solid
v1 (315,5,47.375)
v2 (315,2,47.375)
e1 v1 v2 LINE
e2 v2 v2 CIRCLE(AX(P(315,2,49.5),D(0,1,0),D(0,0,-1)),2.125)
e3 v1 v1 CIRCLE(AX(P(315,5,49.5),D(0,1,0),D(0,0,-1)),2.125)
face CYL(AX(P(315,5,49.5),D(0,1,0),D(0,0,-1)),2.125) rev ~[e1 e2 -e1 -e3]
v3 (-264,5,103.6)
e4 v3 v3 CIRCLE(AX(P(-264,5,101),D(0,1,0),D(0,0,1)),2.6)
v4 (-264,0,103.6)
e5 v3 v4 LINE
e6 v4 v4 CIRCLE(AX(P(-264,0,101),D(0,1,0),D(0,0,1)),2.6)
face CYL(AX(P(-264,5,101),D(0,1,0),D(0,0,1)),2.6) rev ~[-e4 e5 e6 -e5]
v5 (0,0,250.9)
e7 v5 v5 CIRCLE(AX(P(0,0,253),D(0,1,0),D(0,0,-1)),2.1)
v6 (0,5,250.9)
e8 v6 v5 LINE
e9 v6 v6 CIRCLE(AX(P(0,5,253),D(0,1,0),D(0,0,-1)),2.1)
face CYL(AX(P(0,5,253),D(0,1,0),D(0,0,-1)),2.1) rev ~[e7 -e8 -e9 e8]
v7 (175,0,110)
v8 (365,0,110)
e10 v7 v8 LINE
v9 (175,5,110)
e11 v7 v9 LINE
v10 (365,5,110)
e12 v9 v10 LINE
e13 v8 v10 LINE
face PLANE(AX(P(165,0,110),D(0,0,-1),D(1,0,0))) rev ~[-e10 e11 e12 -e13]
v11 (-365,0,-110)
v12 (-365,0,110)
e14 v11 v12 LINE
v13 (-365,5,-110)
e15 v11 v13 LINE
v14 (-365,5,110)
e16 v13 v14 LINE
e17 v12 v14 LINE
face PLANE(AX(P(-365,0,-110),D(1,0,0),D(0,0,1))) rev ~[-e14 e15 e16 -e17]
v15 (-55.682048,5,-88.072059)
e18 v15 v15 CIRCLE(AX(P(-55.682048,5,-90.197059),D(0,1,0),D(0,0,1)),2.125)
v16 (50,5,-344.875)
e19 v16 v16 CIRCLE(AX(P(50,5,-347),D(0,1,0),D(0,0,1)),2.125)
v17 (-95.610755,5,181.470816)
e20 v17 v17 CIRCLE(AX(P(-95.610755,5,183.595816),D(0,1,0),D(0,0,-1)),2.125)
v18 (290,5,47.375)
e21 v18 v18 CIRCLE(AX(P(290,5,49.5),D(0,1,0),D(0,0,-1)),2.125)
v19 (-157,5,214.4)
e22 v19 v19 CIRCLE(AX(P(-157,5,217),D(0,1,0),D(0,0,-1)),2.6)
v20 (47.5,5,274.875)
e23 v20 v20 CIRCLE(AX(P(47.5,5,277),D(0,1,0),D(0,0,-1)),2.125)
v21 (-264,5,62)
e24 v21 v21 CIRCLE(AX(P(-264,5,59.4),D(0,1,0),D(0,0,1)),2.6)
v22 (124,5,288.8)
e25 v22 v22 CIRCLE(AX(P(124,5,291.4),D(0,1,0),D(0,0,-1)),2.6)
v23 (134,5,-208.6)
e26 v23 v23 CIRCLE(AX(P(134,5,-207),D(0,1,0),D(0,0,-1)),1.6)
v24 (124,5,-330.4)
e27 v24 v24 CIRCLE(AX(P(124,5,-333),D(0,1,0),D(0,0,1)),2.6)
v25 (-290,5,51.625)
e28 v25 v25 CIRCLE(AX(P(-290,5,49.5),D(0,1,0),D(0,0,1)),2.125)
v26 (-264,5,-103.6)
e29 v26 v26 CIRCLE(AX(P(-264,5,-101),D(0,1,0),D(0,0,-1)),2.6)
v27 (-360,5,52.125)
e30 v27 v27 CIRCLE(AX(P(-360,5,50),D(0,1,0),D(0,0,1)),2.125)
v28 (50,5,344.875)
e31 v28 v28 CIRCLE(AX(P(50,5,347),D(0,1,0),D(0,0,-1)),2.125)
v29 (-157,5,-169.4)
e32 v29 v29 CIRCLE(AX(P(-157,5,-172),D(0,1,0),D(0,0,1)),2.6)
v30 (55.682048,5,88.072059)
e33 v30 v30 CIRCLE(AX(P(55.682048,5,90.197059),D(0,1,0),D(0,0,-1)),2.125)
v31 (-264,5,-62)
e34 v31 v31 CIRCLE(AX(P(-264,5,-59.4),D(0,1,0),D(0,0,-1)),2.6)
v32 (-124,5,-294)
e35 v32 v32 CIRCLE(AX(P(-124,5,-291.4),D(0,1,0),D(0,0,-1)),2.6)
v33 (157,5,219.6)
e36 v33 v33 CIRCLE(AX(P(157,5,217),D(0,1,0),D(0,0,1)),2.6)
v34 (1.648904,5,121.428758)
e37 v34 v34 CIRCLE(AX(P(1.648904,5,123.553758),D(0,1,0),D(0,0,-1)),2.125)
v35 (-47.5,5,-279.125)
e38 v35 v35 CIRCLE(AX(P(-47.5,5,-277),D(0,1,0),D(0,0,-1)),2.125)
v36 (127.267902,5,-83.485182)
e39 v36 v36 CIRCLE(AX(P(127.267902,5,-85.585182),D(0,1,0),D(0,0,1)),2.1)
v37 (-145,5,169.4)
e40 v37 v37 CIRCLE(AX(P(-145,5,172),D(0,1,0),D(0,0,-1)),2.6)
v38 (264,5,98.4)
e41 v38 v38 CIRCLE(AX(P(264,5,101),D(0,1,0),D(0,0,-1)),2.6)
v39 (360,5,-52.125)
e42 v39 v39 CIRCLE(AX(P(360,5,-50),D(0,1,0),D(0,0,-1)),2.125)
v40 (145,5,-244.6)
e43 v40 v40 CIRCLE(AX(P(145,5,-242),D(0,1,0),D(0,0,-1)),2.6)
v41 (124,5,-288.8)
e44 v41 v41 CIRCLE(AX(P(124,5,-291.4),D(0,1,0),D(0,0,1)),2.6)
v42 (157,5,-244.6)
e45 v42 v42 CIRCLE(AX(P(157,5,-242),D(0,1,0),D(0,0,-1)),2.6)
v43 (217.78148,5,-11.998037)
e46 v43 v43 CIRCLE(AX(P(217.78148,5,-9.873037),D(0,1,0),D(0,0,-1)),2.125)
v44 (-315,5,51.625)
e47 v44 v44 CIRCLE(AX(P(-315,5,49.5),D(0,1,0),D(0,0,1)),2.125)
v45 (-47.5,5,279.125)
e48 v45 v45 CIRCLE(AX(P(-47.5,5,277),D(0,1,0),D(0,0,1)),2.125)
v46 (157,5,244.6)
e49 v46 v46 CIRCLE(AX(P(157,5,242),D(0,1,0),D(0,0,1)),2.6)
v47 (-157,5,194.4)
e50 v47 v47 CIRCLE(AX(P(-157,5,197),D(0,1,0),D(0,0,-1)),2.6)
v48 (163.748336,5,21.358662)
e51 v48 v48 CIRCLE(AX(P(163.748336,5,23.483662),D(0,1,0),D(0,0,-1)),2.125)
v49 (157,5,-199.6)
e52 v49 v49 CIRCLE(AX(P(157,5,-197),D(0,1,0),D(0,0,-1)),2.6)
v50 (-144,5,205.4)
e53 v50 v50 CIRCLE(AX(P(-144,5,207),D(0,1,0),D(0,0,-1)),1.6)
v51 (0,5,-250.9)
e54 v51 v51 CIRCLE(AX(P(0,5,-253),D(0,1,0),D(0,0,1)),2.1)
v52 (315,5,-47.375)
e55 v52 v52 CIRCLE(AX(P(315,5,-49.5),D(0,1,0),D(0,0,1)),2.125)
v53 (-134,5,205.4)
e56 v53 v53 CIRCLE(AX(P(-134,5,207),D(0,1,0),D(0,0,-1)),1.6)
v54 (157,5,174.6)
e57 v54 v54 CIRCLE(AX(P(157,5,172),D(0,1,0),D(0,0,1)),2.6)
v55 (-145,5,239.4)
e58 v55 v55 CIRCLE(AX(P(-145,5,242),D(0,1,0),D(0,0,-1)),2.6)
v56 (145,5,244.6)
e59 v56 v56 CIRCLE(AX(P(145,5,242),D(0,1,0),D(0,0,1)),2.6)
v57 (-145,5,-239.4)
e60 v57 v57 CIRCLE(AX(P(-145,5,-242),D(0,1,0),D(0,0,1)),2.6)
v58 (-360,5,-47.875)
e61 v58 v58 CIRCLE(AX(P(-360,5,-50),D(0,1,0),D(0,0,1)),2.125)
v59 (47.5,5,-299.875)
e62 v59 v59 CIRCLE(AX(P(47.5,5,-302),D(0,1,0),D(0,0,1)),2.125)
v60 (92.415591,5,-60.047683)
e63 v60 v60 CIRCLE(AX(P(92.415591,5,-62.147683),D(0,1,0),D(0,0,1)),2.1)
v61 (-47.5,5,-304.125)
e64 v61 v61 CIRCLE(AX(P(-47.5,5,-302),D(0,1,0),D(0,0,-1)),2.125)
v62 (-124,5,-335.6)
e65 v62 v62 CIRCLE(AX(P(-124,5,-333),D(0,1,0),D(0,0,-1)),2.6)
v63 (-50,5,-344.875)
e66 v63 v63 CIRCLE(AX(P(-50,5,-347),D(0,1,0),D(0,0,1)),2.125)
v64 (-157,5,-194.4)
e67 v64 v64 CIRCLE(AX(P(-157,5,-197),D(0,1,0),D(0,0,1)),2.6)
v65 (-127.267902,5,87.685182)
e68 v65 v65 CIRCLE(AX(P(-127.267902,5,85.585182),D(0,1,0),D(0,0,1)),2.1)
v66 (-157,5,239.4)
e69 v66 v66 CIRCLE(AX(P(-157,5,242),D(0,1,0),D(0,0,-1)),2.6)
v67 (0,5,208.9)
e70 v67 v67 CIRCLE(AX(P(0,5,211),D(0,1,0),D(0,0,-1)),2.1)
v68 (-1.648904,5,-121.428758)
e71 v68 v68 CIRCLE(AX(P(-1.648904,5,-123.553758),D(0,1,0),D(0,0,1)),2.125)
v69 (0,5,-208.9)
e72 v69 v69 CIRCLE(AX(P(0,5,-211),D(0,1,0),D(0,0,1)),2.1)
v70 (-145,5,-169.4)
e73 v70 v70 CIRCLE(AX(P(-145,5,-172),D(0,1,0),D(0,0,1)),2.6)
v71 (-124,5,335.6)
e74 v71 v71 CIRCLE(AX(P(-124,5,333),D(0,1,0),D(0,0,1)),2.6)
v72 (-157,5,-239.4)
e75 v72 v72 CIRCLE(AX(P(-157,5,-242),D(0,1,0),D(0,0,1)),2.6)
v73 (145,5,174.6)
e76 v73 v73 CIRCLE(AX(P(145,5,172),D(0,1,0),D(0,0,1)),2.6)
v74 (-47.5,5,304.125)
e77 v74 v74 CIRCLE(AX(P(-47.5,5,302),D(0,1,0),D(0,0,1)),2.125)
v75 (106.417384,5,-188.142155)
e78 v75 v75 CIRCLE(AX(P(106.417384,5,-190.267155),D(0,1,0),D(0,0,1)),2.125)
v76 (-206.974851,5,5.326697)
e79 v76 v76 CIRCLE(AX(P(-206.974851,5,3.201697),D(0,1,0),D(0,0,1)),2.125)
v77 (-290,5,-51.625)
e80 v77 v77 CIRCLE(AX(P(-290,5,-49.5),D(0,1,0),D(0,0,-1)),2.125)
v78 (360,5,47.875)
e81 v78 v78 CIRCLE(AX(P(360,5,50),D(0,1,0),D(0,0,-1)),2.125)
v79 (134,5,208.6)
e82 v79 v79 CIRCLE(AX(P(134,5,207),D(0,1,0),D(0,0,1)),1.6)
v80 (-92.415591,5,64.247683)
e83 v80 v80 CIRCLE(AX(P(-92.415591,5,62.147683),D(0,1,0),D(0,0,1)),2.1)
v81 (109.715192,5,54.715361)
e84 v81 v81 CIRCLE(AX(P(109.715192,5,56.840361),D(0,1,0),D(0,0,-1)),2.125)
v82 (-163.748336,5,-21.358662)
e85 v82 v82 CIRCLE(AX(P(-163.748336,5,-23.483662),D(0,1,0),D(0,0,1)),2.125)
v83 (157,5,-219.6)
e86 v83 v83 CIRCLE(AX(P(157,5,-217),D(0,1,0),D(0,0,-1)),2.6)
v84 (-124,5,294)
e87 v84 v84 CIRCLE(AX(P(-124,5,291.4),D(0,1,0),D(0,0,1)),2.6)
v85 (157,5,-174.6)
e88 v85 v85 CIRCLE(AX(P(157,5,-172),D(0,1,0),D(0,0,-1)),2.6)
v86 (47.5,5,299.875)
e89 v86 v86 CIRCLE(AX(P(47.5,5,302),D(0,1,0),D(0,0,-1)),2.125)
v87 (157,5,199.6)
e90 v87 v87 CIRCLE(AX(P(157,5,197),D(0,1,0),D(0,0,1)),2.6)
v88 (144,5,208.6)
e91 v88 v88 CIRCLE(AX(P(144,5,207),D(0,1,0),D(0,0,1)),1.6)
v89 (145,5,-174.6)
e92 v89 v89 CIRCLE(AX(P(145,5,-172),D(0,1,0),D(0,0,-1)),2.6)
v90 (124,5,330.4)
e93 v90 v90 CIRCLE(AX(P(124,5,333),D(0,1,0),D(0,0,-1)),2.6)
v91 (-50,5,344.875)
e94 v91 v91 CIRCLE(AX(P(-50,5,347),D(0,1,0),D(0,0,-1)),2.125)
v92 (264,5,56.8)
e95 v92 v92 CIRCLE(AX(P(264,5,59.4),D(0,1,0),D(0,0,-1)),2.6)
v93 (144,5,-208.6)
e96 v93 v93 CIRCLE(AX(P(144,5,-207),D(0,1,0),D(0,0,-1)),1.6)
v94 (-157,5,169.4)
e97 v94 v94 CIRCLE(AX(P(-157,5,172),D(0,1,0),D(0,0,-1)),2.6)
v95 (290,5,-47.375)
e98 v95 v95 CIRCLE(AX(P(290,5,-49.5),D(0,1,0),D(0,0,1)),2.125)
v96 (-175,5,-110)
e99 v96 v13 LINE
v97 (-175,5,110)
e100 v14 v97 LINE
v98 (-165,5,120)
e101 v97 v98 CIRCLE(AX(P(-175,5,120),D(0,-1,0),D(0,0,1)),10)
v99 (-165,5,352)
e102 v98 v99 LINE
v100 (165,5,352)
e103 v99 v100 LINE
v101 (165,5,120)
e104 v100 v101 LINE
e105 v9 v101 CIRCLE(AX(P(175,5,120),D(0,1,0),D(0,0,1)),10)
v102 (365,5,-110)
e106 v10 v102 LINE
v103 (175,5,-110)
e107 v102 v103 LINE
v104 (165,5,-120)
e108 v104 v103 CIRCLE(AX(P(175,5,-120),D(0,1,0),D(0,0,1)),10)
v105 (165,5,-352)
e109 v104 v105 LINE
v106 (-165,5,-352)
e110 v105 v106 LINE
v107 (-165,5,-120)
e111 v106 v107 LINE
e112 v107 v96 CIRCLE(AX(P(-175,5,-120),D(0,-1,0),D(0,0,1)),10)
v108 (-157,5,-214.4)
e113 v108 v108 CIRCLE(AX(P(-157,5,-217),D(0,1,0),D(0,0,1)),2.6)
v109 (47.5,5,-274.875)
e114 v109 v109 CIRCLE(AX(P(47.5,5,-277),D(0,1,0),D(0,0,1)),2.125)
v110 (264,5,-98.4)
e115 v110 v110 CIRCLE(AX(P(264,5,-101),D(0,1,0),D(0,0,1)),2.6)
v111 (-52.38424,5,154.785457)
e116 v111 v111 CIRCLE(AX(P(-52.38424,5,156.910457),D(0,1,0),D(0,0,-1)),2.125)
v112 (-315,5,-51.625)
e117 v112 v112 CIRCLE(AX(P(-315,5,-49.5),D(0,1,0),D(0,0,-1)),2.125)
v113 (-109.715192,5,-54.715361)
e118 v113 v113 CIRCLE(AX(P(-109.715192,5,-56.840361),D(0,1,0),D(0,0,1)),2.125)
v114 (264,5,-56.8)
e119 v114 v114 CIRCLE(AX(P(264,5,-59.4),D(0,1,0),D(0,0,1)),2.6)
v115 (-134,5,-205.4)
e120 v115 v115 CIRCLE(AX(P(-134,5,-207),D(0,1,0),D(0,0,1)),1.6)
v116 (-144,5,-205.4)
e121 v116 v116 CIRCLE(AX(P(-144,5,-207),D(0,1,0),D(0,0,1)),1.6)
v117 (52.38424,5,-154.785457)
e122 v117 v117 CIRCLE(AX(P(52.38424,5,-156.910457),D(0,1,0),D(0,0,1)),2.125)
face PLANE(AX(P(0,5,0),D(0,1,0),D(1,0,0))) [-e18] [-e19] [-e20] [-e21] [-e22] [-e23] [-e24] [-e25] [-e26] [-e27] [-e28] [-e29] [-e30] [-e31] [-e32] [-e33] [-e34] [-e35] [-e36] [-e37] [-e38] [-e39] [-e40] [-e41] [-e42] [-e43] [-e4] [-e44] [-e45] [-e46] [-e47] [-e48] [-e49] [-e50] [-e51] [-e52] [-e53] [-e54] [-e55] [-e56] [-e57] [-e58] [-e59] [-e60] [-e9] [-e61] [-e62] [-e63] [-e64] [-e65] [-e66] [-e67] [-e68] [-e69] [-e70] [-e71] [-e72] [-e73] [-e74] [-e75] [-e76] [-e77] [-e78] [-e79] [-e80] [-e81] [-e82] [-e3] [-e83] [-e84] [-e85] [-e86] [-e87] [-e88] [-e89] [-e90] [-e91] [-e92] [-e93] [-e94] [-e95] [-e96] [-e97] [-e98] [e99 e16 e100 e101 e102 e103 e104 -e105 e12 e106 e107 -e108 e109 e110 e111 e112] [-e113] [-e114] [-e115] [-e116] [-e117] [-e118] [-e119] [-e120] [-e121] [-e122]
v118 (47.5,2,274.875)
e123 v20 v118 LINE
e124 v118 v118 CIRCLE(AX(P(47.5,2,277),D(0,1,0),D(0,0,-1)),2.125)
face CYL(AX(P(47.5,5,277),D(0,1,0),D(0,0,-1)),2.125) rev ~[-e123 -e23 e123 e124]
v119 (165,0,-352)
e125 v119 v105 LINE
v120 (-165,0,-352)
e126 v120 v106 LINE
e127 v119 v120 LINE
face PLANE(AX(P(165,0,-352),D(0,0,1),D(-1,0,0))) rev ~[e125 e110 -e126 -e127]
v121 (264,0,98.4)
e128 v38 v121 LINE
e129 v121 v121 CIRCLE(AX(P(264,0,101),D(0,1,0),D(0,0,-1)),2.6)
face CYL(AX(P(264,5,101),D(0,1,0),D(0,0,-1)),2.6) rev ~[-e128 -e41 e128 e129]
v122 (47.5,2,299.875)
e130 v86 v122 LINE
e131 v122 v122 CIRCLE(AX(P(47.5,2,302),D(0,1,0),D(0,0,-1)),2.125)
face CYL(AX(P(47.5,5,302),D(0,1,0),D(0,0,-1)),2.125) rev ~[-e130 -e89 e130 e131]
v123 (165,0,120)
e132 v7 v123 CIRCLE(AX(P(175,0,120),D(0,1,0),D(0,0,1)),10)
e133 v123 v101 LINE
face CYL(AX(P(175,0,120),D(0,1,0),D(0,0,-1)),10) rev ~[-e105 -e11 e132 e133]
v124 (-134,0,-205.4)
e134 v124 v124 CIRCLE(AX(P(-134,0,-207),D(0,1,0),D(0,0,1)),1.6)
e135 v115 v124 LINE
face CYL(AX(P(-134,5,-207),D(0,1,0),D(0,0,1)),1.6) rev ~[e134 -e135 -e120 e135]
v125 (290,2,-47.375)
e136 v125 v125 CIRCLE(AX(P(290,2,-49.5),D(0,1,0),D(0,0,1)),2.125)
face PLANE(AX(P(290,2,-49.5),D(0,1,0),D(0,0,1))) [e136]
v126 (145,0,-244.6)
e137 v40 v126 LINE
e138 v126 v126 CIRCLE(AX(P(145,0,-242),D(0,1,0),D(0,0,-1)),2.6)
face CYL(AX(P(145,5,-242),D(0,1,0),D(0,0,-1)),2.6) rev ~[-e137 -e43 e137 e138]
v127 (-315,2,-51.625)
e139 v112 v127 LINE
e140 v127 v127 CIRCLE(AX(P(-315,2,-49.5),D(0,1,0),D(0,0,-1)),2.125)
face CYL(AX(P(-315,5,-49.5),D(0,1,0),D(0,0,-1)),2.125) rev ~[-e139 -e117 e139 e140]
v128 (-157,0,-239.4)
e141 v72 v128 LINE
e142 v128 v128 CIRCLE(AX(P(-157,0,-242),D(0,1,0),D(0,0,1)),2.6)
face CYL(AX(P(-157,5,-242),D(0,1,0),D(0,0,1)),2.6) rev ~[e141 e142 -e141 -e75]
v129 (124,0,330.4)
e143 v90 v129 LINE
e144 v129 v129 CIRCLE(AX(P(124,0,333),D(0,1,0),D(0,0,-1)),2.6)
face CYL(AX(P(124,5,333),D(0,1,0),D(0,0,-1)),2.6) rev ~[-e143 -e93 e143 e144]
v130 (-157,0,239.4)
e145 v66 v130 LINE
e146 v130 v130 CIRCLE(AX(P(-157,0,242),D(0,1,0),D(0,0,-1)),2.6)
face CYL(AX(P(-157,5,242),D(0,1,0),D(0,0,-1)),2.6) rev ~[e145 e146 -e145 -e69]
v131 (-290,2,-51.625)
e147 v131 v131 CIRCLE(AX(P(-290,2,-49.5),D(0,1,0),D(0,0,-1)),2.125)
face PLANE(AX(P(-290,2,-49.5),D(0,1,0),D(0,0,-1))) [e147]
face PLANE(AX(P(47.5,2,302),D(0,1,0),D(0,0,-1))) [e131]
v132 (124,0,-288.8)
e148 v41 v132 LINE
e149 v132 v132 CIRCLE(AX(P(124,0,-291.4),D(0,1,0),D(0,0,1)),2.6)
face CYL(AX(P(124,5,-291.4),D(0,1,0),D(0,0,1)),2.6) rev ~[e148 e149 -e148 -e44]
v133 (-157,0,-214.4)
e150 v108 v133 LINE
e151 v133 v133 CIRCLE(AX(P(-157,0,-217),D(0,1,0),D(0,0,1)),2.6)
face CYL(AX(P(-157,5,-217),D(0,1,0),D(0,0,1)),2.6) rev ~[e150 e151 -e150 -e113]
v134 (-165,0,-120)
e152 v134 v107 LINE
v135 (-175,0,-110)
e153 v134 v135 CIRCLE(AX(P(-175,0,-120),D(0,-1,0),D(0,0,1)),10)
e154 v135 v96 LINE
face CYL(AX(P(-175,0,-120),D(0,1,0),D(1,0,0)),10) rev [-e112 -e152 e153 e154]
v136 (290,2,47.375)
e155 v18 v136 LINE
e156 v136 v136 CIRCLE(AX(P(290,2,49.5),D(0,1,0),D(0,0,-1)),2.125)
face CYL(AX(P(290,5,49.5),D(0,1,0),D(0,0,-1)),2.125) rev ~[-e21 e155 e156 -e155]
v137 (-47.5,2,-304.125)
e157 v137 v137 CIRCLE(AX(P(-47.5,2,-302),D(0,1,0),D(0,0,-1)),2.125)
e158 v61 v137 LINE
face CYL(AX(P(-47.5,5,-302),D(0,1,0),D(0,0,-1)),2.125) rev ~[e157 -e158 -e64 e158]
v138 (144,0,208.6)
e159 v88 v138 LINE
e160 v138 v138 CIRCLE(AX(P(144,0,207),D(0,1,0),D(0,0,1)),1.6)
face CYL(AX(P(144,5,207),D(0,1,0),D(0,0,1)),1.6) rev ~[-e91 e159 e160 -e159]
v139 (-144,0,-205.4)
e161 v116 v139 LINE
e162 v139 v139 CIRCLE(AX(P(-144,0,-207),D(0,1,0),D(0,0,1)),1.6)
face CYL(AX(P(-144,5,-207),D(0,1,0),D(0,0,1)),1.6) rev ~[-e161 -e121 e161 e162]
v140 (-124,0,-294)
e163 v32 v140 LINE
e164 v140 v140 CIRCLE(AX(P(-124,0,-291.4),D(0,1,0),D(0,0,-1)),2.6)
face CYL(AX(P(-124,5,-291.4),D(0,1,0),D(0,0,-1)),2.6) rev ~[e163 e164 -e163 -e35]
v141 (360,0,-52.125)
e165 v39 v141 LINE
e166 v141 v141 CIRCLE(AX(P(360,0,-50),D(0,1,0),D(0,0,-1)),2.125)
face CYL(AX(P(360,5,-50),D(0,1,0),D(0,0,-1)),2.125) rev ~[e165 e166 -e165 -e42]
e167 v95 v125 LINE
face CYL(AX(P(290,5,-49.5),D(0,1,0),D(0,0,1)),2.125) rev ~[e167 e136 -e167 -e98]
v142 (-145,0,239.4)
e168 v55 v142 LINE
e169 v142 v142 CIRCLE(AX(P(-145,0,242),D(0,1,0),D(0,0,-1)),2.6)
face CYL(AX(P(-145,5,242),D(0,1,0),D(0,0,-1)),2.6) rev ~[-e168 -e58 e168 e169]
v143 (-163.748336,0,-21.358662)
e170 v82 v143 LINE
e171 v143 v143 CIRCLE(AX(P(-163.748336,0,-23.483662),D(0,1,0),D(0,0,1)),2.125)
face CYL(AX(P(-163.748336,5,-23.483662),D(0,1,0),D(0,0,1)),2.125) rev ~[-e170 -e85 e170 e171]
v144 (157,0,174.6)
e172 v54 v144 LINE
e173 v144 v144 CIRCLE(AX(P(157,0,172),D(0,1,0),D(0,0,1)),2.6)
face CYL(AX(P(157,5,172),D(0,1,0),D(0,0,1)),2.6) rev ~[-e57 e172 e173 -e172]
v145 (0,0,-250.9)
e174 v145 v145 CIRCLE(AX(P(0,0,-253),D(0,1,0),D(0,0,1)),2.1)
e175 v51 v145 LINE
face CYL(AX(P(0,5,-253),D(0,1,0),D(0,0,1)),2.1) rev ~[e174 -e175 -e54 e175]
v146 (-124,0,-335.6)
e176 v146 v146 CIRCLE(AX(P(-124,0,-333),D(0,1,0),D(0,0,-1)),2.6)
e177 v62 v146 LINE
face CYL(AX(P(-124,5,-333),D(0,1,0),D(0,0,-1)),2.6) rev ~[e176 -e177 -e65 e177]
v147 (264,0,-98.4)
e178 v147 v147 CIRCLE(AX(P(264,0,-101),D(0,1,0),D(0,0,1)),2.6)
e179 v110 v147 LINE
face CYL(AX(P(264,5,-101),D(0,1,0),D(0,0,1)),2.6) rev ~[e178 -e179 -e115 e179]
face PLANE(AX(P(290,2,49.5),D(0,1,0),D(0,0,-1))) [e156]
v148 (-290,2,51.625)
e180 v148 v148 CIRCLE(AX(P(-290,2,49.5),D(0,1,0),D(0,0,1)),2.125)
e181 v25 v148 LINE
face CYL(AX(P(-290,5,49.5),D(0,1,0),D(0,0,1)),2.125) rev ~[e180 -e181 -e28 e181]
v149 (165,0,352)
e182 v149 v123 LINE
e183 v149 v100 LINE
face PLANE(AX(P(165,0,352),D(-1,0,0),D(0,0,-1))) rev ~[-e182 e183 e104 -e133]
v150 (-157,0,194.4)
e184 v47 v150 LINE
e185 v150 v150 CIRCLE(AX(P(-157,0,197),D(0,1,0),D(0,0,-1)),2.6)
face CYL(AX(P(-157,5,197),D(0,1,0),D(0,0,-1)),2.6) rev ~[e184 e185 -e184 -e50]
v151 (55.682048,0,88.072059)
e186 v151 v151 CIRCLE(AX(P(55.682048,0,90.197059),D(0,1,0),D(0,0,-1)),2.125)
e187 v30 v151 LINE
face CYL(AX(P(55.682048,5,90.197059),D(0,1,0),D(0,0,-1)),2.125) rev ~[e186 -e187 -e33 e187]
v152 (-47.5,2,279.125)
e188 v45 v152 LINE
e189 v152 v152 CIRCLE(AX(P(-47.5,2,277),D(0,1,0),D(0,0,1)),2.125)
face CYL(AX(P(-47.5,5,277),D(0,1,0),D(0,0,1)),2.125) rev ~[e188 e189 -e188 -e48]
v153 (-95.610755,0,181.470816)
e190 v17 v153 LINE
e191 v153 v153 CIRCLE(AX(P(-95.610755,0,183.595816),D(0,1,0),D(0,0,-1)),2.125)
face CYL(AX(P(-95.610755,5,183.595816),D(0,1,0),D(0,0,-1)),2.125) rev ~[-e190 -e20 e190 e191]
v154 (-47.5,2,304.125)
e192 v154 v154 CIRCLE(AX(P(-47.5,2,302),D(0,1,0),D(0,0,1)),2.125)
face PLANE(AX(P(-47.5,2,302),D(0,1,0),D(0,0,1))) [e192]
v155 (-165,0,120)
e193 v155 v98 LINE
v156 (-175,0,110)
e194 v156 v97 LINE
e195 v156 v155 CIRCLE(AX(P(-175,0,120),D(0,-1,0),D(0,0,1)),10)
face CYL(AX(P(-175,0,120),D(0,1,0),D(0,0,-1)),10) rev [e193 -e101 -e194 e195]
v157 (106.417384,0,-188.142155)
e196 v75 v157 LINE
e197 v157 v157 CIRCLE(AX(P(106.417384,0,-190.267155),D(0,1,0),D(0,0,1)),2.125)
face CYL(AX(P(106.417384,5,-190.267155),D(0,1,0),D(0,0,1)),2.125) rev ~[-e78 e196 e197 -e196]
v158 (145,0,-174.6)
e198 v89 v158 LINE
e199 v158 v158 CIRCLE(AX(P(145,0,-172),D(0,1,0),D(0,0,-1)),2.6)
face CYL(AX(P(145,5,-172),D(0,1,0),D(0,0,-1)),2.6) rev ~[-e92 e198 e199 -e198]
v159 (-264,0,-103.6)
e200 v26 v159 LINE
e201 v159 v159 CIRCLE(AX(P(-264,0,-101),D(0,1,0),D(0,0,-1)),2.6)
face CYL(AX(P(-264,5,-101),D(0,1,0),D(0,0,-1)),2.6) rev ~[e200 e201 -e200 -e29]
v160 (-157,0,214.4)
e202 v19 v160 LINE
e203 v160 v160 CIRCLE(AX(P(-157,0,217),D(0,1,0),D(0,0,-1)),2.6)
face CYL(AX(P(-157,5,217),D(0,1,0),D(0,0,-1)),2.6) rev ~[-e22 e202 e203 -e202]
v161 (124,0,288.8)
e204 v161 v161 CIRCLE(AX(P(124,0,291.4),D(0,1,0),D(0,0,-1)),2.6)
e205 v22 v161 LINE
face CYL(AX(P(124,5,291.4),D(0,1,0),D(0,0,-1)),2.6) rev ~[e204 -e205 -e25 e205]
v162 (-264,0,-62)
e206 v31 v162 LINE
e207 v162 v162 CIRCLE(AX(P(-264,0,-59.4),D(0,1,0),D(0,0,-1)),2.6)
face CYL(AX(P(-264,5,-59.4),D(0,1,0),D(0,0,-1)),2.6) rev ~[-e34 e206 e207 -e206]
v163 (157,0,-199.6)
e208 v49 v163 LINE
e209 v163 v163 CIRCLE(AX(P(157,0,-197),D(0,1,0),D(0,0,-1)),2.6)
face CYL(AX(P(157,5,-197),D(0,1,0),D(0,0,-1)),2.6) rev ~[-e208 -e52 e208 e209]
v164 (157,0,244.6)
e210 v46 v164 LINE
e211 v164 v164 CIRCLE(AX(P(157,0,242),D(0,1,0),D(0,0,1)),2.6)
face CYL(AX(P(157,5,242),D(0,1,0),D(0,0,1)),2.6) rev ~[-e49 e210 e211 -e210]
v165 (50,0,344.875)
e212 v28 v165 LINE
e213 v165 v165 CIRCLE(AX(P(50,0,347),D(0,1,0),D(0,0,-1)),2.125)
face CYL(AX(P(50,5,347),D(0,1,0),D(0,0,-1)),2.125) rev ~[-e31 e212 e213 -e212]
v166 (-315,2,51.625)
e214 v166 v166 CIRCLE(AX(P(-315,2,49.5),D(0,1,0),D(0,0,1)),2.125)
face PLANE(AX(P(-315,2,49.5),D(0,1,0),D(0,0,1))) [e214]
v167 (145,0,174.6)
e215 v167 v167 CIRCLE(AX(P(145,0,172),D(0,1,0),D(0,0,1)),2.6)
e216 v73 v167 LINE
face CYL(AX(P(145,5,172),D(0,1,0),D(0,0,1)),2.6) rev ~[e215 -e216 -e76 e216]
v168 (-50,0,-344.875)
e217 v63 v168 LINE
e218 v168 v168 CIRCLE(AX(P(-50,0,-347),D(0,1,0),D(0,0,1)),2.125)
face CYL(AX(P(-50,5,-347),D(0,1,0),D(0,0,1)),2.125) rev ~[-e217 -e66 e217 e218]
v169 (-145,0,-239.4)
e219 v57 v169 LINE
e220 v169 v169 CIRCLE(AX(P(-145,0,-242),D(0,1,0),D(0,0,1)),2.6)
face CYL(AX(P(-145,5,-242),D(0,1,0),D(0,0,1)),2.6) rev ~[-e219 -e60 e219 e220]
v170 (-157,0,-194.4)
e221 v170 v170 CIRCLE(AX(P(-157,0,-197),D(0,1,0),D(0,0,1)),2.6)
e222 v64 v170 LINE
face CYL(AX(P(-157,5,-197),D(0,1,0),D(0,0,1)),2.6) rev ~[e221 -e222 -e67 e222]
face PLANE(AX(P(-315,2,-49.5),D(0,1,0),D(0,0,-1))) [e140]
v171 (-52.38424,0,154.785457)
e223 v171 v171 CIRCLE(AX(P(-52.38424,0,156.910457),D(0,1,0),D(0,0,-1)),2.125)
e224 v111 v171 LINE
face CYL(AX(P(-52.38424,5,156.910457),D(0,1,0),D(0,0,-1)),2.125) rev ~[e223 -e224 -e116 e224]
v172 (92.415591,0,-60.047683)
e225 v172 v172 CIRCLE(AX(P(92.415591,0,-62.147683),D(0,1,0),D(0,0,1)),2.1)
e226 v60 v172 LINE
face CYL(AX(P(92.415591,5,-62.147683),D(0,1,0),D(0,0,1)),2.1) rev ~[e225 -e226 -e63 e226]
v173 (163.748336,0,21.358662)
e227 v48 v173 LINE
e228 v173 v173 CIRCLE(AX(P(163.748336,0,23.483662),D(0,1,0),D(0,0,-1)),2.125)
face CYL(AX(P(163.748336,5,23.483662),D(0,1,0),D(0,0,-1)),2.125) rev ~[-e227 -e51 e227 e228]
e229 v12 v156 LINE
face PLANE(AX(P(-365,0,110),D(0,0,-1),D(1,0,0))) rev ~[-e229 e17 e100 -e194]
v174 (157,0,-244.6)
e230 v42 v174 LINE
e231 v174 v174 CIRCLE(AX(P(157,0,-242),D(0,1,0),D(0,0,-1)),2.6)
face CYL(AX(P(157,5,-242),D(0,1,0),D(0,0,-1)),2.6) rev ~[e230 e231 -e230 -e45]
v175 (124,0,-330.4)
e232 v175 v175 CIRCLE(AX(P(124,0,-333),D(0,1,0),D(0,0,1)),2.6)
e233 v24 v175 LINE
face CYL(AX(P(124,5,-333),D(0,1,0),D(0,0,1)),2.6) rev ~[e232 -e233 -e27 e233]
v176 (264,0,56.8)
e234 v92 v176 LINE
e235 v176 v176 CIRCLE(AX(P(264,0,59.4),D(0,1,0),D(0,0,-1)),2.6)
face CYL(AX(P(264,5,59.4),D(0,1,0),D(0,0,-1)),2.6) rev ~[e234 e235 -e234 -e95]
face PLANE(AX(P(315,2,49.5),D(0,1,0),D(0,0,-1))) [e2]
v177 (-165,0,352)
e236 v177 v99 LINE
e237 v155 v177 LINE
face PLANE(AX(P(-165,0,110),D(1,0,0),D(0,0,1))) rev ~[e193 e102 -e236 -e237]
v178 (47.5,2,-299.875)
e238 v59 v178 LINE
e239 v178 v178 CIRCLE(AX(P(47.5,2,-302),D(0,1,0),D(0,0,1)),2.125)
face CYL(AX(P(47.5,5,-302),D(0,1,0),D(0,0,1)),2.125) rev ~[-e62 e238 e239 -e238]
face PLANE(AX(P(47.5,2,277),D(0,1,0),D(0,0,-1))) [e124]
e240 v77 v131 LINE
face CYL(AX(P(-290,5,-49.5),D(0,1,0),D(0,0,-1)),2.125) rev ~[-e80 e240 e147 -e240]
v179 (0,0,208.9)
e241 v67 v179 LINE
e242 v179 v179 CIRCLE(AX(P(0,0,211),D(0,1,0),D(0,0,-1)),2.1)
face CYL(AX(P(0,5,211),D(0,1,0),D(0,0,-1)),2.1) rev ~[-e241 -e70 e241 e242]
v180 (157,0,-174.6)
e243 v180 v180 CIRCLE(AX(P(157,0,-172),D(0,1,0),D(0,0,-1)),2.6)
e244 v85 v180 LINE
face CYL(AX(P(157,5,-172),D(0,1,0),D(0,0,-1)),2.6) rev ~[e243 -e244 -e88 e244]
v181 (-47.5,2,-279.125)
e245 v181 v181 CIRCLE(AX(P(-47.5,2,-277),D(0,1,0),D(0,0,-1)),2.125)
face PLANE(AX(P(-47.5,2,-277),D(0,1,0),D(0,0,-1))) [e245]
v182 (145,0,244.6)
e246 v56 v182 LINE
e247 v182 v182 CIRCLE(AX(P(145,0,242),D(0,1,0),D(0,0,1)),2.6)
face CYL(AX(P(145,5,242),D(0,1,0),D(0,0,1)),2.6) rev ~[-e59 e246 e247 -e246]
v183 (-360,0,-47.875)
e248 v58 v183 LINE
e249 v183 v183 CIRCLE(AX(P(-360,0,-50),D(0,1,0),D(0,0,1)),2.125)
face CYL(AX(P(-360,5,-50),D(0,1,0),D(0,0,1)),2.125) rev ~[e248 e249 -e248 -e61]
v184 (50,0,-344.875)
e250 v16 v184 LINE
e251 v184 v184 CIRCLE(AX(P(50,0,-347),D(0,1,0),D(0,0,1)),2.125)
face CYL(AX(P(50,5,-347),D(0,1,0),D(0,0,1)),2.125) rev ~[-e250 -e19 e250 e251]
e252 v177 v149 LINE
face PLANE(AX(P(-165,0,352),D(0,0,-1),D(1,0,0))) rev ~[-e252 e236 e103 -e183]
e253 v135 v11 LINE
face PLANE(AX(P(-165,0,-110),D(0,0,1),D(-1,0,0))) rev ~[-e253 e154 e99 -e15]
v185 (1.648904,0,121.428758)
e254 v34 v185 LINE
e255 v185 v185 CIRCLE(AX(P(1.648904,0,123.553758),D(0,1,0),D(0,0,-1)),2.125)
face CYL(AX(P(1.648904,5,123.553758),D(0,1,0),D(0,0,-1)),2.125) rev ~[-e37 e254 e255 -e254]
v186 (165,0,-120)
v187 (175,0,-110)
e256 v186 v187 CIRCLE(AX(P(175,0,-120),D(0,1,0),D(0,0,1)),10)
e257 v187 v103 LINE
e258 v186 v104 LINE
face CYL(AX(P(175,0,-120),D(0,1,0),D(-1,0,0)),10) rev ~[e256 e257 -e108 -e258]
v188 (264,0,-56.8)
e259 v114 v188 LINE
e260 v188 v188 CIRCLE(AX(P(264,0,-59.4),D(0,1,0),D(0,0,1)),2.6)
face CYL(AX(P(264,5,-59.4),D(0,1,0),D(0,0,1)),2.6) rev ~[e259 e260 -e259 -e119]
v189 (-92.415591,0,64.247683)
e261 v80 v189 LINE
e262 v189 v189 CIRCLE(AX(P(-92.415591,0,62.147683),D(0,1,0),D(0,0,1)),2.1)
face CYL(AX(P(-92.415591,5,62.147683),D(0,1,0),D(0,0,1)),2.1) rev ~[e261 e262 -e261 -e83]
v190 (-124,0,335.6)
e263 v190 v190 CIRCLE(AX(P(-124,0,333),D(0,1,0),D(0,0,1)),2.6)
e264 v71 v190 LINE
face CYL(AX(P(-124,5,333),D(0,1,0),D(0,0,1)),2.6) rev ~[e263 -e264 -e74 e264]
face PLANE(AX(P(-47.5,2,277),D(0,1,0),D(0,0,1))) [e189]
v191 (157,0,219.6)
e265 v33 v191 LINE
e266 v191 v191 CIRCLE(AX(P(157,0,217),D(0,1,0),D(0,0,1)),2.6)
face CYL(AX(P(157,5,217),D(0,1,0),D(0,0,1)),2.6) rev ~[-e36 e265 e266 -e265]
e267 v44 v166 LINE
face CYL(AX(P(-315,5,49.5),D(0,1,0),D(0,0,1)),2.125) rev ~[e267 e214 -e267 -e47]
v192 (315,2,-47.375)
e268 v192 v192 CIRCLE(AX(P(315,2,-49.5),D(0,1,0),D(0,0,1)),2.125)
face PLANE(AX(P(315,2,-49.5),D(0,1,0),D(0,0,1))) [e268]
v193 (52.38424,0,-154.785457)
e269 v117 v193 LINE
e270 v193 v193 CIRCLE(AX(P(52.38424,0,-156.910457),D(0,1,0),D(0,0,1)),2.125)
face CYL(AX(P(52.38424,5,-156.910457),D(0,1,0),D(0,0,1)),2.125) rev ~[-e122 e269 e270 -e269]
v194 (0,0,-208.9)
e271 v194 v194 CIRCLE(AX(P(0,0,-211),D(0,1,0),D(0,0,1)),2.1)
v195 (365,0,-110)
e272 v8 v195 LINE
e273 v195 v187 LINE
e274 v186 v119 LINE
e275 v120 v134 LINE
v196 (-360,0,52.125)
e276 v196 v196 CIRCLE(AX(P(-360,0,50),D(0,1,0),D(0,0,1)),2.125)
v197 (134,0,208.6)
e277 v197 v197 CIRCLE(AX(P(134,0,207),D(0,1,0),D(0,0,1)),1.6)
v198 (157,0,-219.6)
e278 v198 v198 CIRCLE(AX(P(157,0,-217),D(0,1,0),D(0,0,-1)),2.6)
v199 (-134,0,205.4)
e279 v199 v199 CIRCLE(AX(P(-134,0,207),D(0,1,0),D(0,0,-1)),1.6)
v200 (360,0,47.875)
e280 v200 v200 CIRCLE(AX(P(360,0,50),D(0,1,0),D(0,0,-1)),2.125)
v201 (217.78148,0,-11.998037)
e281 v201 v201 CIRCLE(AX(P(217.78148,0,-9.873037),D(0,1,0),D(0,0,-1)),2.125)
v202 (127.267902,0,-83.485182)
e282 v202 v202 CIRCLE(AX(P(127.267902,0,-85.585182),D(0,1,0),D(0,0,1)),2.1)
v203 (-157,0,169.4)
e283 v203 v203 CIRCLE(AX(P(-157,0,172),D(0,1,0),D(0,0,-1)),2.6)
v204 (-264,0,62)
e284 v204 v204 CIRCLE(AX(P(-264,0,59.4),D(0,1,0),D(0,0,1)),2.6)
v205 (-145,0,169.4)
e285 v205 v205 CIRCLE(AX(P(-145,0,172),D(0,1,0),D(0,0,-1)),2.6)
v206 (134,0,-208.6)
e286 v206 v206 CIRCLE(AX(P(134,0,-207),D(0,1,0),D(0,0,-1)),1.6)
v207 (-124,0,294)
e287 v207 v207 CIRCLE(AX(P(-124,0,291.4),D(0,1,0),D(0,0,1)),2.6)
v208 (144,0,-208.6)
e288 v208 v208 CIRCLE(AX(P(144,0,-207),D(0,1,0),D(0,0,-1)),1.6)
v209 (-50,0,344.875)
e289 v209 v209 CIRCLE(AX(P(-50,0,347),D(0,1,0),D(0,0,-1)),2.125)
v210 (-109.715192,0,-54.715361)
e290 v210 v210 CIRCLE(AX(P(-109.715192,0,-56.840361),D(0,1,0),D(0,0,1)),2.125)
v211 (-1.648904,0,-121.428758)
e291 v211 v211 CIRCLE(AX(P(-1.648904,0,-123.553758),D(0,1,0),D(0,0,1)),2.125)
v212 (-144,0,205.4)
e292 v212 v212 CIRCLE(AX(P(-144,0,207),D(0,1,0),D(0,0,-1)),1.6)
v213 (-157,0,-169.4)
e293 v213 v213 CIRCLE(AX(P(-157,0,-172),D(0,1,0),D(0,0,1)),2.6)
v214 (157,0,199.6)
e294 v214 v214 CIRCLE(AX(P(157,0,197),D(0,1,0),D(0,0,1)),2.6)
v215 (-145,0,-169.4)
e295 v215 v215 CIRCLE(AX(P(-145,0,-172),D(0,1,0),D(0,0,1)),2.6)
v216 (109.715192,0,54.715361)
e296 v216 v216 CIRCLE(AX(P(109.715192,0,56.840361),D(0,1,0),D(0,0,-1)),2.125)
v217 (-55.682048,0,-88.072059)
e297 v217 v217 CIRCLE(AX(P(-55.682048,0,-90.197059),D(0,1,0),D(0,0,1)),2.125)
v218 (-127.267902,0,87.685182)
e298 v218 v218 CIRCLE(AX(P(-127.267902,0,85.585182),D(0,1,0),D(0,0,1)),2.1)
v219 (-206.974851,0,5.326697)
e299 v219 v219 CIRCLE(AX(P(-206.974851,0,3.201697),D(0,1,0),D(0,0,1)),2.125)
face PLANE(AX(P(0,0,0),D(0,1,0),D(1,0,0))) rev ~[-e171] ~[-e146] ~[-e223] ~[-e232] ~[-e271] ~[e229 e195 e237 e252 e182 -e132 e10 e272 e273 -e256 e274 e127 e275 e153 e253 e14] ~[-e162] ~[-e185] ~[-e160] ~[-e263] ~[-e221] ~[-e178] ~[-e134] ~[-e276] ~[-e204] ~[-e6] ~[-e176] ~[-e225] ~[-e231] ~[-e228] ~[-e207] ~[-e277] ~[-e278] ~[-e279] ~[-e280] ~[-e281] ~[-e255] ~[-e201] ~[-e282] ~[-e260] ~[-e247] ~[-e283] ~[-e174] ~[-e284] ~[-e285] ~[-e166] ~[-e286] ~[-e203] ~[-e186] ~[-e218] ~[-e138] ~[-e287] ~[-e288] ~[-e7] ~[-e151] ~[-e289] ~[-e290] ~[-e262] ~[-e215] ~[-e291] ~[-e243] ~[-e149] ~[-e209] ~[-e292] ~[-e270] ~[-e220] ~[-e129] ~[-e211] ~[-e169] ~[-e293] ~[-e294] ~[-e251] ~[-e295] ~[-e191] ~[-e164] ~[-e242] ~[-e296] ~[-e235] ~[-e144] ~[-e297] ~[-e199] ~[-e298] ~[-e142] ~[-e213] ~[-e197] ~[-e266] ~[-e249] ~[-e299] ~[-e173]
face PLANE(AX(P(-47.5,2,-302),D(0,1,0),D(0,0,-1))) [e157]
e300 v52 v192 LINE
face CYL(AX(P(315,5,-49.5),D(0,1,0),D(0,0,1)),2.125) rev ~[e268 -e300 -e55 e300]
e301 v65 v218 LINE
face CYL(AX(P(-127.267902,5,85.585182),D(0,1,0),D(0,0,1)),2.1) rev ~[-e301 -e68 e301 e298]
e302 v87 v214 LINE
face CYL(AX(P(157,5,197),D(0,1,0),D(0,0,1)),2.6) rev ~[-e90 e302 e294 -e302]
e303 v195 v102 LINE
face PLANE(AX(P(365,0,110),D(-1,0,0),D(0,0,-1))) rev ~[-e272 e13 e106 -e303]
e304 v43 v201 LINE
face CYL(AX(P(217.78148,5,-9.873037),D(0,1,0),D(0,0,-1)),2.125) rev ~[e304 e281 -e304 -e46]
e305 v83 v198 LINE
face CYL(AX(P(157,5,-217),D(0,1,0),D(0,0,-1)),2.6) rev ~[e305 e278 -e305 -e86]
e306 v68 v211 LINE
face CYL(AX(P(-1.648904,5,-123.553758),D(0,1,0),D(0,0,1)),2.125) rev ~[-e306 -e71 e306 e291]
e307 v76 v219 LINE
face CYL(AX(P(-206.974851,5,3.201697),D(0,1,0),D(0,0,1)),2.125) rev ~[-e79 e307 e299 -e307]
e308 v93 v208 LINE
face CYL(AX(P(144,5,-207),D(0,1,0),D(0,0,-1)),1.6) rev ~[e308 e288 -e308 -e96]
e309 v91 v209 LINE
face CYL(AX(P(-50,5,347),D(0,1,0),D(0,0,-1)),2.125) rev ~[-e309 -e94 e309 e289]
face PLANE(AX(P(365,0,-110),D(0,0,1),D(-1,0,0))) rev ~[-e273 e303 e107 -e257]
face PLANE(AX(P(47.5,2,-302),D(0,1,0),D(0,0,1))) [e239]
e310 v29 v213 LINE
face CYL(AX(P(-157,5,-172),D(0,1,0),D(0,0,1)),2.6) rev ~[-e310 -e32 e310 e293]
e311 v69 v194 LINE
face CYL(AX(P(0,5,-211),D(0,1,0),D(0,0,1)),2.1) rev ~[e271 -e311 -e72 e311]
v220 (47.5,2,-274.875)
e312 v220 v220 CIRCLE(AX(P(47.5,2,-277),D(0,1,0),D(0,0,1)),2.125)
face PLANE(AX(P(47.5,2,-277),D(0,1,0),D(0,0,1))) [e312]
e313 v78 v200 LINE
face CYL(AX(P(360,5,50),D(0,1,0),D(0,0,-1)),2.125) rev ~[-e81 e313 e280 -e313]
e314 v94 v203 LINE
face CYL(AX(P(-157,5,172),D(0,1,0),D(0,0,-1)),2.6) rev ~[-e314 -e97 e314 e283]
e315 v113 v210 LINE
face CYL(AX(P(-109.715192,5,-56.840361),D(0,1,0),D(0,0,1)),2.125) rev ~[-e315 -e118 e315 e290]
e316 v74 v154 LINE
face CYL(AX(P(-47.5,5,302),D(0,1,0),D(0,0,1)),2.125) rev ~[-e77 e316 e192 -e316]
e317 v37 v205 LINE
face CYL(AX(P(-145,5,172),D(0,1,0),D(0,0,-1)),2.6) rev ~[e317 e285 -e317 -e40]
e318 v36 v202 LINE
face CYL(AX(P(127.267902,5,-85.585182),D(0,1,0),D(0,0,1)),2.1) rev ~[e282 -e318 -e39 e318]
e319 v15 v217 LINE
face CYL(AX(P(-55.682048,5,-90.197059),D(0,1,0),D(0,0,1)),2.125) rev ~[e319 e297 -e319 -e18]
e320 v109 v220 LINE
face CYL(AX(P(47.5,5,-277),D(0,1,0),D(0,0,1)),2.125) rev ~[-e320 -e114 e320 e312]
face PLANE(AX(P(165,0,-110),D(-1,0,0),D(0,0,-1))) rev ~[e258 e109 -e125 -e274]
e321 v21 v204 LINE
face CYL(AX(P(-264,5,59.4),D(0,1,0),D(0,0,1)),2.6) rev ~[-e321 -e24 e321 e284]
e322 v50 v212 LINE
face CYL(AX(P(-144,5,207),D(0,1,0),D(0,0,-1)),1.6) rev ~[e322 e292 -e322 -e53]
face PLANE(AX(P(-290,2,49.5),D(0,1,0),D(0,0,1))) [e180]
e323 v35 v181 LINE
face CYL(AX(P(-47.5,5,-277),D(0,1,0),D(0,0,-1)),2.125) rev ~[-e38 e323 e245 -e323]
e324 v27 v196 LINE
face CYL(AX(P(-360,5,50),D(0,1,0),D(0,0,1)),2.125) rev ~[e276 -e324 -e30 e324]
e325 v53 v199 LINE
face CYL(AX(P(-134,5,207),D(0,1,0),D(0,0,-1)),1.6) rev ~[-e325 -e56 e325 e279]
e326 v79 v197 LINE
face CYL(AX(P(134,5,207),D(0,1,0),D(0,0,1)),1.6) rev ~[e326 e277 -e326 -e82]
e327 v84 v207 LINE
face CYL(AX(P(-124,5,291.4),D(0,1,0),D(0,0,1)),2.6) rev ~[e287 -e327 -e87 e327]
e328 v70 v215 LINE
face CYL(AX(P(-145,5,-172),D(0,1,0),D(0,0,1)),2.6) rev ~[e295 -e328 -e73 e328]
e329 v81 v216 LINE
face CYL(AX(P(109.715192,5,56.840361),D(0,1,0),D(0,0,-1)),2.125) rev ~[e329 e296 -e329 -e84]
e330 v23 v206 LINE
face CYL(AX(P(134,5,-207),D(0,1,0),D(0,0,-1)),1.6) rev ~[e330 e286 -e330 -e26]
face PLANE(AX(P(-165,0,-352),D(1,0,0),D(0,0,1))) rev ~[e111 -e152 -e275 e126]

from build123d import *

# Parameters (mm, degrees)
BOSS_EXTRUDE1_DEPTH = 5
SKETCH2_R           = 2.125
CUT_EXTRUDE1_DEPTH  = 3
SKETCH4_R           = 2.6
SKETCH4_R_2         = 1.6
CUT_EXTRUDE3_DEPTH  = 10
SKETCH5_R           = 2.125
CUT_EXTRUDE4_DEPTH  = 10
FILLET1_R           = 10
SKETCH6_R           = 2.6
CUT_EXTRUDE5_DEPTH  = 10
SKETCH7_R           = 2.125
CUT_EXTRUDE6_DEPTH  = 10
SKETCH8_R           = 2.1
CUT_EXTRUDE7_DEPTH  = 10


with BuildPart() as part:
    # Sketch1 → Boss-Extrude1 (new body)
    with BuildSketch(Plane(origin=(0, 0, 0), x_dir=(1, 0, 0), z_dir=(0, 1, 0))):
        Polygon((165, 352), (-165, 352), (-165, 110), (-365, 110), (-365, -110), (-165, -110), (-165, -352), (165, -352), (165, -110), (365, -110), (365, 110), (165, 110), align=None)
    extrude(amount=BOSS_EXTRUDE1_DEPTH)

    # Sketch2 → Cut-Extrude1 (cut)
    with BuildSketch(Plane(origin=(0, 5, 0), x_dir=(1, 0, 0), z_dir=(0, 1, 0))):
        with Locations(Location((315, 49.5, 0), (0, 0, 270))):
            Circle(SKETCH2_R)
        with Locations(Location((290, 49.5, 0), (0, 0, 270))):
            Circle(SKETCH2_R)
        with Locations(Location((290, -49.5, 0), (0, 0, 90))):
            Circle(SKETCH2_R)
        with Locations(Location((315, -49.5, 0), (0, 0, 90))):
            Circle(SKETCH2_R)
        with Locations(Location((-315, -49.5, 0), (0, 0, 270))):
            Circle(SKETCH2_R)
        with Locations(Location((-290, -49.5, 0), (0, 0, 270))):
            Circle(SKETCH2_R)
        with Locations(Location((-290, 49.5, 0), (0, 0, 90))):
            Circle(SKETCH2_R)
        with Locations(Location((-315, 49.5, 0), (0, 0, 90))):
            Circle(SKETCH2_R)
        with Locations(Location((47.5, 302, 0), (0, 0, 270))):
            Circle(SKETCH2_R)
        with Locations(Location((47.5, 277, 0), (0, 0, 270))):
            Circle(SKETCH2_R)
        with Locations(Location((-47.5, 277, 0), (0, 0, 90))):
            Circle(SKETCH2_R)
        with Locations(Location((-47.5, 302, 0), (0, 0, 90))):
            Circle(SKETCH2_R)
        with Locations(Location((-47.5, -302, 0), (0, 0, 270))):
            Circle(SKETCH2_R)
        with Locations(Location((-47.5, -277, 0), (0, 0, 270))):
            Circle(SKETCH2_R)
        with Locations(Location((47.5, -277, 0), (0, 0, 90))):
            Circle(SKETCH2_R)
        with Locations(Location((47.5, -302, 0), (0, 0, 90))):
            Circle(SKETCH2_R)
    extrude(amount=-CUT_EXTRUDE1_DEPTH, mode=Mode.SUBTRACT)

    # Sketch4 → Cut-Extrude3 (cut)
    with BuildSketch(Plane(origin=(0, 5, 0), x_dir=(1, 0, 0), z_dir=(0, 1, 0))):
        with Locations(Location((-157, 172, 0), (0, 0, 270))):
            Circle(SKETCH4_R)
        with Locations(Location((-145, 172, 0), (0, 0, 270))):
            Circle(SKETCH4_R)
        with Locations(Location((-157, 197, 0), (0, 0, 270))):
            Circle(SKETCH4_R)
        with Locations(Location((-157, 217, 0), (0, 0, 270))):
            Circle(SKETCH4_R)
        with Locations(Location((-157, 242, 0), (0, 0, 270))):
            Circle(SKETCH4_R)
        with Locations(Location((-145, 242, 0), (0, 0, 270))):
            Circle(SKETCH4_R)
        with Locations(Location((145, 242, 0), (0, 0, 90))):
            Circle(SKETCH4_R)
        with Locations(Location((157, 242, 0), (0, 0, 90))):
            Circle(SKETCH4_R)
        with Locations(Location((157, 217, 0), (0, 0, 90))):
            Circle(SKETCH4_R)
        with Locations(Location((157, 197, 0), (0, 0, 90))):
            Circle(SKETCH4_R)
        with Locations(Location((145, 172, 0), (0, 0, 90))):
            Circle(SKETCH4_R)
        with Locations(Location((157, 172, 0), (0, 0, 90))):
            Circle(SKETCH4_R)
        with Locations(Location((157, -172, 0), (0, 0, 270))):
            Circle(SKETCH4_R)
        with Locations(Location((145, -172, 0), (0, 0, 270))):
            Circle(SKETCH4_R)
        with Locations(Location((157, -197, 0), (0, 0, 270))):
            Circle(SKETCH4_R)
        with Locations(Location((157, -217, 0), (0, 0, 270))):
            Circle(SKETCH4_R)
        with Locations(Location((157, -242, 0), (0, 0, 270))):
            Circle(SKETCH4_R)
        with Locations(Location((145, -242, 0), (0, 0, 270))):
            Circle(SKETCH4_R)
        with Locations(Location((-145, -242, 0), (0, 0, 90))):
            Circle(SKETCH4_R)
        with Locations(Location((-157, -242, 0), (0, 0, 90))):
            Circle(SKETCH4_R)
        with Locations(Location((-157, -217, 0), (0, 0, 90))):
            Circle(SKETCH4_R)
        with Locations(Location((-157, -197, 0), (0, 0, 90))):
            Circle(SKETCH4_R)
        with Locations(Location((-145, -172, 0), (0, 0, 90))):
            Circle(SKETCH4_R)
        with Locations(Location((-157, -172, 0), (0, 0, 90))):
            Circle(SKETCH4_R)
        with Locations(Location((144, -207, 0), (0, 0, 270))):
            Circle(SKETCH4_R_2)
        with Locations(Location((-144, -207, 0), (0, 0, 90))):
            Circle(SKETCH4_R_2)
        with Locations(Location((144, 207, 0), (0, 0, 90))):
            Circle(SKETCH4_R_2)
        with Locations(Location((-144, 207, 0), (0, 0, 270))):
            Circle(SKETCH4_R_2)
        with Locations(Location((134, -207, 0), (0, 0, 270))):
            Circle(SKETCH4_R_2)
        with Locations(Location((-134, -207, 0), (0, 0, 90))):
            Circle(SKETCH4_R_2)
        with Locations(Location((134, 207, 0), (0, 0, 90))):
            Circle(SKETCH4_R_2)
        with Locations(Location((-134, 207, 0), (0, 0, 270))):
            Circle(SKETCH4_R_2)
    extrude(amount=-CUT_EXTRUDE3_DEPTH, mode=Mode.SUBTRACT)

    # Sketch5 → Cut-Extrude4 (cut)
    with BuildSketch(Plane(origin=(0, 5, 0), x_dir=(1, 0, 0), z_dir=(0, 1, 0))):
        with Locations(Location((-50, 347, 0), (0, 0, 270))):
            Circle(SKETCH5_R)
        with Locations(Location((50, 347, 0), (0, 0, 270))):
            Circle(SKETCH5_R)
        with Locations(Location((50, -347, 0), (0, 0, 90))):
            Circle(SKETCH5_R)
        with Locations(Location((-50, -347, 0), (0, 0, 90))):
            Circle(SKETCH5_R)
        with Locations(Location((-360, 50, 0), (0, 0, 270))):
            Circle(SKETCH5_R)
        with Locations(Location((-360, -50, 0), (0, 0, 270))):
            Circle(SKETCH5_R)
        with Locations(Location((360, -50, 0), (0, 0, 90))):
            Circle(SKETCH5_R)
        with Locations(Location((360, 50, 0), (0, 0, 90))):
            Circle(SKETCH5_R)
    extrude(amount=-CUT_EXTRUDE4_DEPTH, mode=Mode.SUBTRACT)

    # Fillet1
    fillet1_edges = [part.edges().sort_by_distance(p)[0] for p in [
        (165, 2.5, -110),
        (165, 2.5, 110),
        (-165, 2.5, 110),
        (-165, 2.5, -110),
    ]]
    fillet(fillet1_edges, radius=FILLET1_R)

    # Sketch6 → Cut-Extrude5 (cut)
    with BuildSketch(Plane(origin=(0, 5, 0), x_dir=(1, 0, 0), z_dir=(0, 1, 0))):
        with Locations(Location((124, 333, 0), (0, 0, 270))):
            Circle(SKETCH6_R)
        with Locations(Location((124, 291.4, 0), (0, 0, 270))):
            Circle(SKETCH6_R)
        with Locations(Location((124, -291.4, 0), (0, 0, 90))):
            Circle(SKETCH6_R)
        with Locations(Location((124, -333, 0), (0, 0, 90))):
            Circle(SKETCH6_R)
        with Locations(Location((-124, -333, 0), (0, 0, 270))):
            Circle(SKETCH6_R)
        with Locations(Location((-124, -291.4, 0), (0, 0, 270))):
            Circle(SKETCH6_R)
        with Locations(Location((-124, 291.4, 0), (0, 0, 90))):
            Circle(SKETCH6_R)
        with Locations(Location((-124, 333, 0), (0, 0, 90))):
            Circle(SKETCH6_R)
        with Locations(Location((264, 101, 0), (0, 0, 270))):
            Circle(SKETCH6_R)
        with Locations(Location((264, 59.4, 0), (0, 0, 270))):
            Circle(SKETCH6_R)
        with Locations(Location((264, -59.4, 0), (0, 0, 90))):
            Circle(SKETCH6_R)
        with Locations(Location((264, -101, 0), (0, 0, 90))):
            Circle(SKETCH6_R)
        with Locations(Location((-264, -101, 0), (0, 0, 270))):
            Circle(SKETCH6_R)
        with Locations(Location((-264, -59.4, 0), (0, 0, 270))):
            Circle(SKETCH6_R)
        with Locations(Location((-264, 59.4, 0), (0, 0, 90))):
            Circle(SKETCH6_R)
        with Locations(Location((-264, 101, 0), (0, 0, 90))):
            Circle(SKETCH6_R)
    extrude(amount=-CUT_EXTRUDE5_DEPTH, mode=Mode.SUBTRACT)

    # Sketch7 → Cut-Extrude6 (cut)
    with BuildSketch(Plane(origin=(0, 5, 0), x_dir=(1, 0, 0), z_dir=(0, 1, 0))):
        with Locations(Location((-55.682048102, 90.197059371, 0), (0, 0, 270))):
            Circle(SKETCH7_R)
        with Locations(Location((-1.648904044, 123.553757998, 0), (0, 0, 270))):
            Circle(SKETCH7_R)
        with Locations(Location((52.384240013, 156.910456625, 0), (0, 0, 270))):
            Circle(SKETCH7_R)
        with Locations(Location((106.41738407, 190.267155252, 0), (0, 0, 270))):
            Circle(SKETCH7_R)
        with Locations(Location((-109.715192159, 56.840360744, 0), (0, 0, 270))):
            Circle(SKETCH7_R)
        with Locations(Location((-163.748336216, 23.483662117, 0), (0, 0, 270))):
            Circle(SKETCH7_R)
        with Locations(Location((-206.974851462, -3.201696784, 0), (0, 0, 270))):
            Circle(SKETCH7_R)
        with Locations(Location((-95.610755259, -183.595815527, 0), (0, 0, 90))):
            Circle(SKETCH7_R)
        with Locations(Location((-52.384240013, -156.910456625, 0), (0, 0, 90))):
            Circle(SKETCH7_R)
        with Locations(Location((1.648904044, -123.553757998, 0), (0, 0, 90))):
            Circle(SKETCH7_R)
        with Locations(Location((217.781480273, 9.87303651, 0), (0, 0, 90))):
            Circle(SKETCH7_R)
        with Locations(Location((163.748336216, -23.483662117, 0), (0, 0, 90))):
            Circle(SKETCH7_R)
        with Locations(Location((109.715192159, -56.840360744, 0), (0, 0, 90))):
            Circle(SKETCH7_R)
        with Locations(Location((55.682048102, -90.197059371, 0), (0, 0, 90))):
            Circle(SKETCH7_R)
    extrude(amount=-CUT_EXTRUDE6_DEPTH, mode=Mode.SUBTRACT)

    # Sketch8 → Cut-Extrude7 (cut)
    with BuildSketch(Plane(origin=(0, 5, 0), x_dir=(1, 0, 0), z_dir=(0, 1, 0))):
        with Locations(Location((-127.267902287, -85.585182493, 0), (0, 0, 270))):
            Circle(SKETCH8_R)
        with Locations(Location((-92.415590944, -62.147682754, 0), (0, 0, 270))):
            Circle(SKETCH8_R)
        with Locations(Location((92.415590944, 62.147682754, 0), (0, 0, 270))):
            Circle(SKETCH8_R)
        with Locations(Location((127.267902287, 85.585182493, 0), (0, 0, 270))):
            Circle(SKETCH8_R)
        with Locations(Location((0, 253, 0), (0, 0, 270))):
            Circle(SKETCH8_R)
        with Locations(Location((0, 211, 0), (0, 0, 270))):
            Circle(SKETCH8_R)
        with Locations(Location((0, -211, 0), (0, 0, 90))):
            Circle(SKETCH8_R)
        with Locations(Location((0, -253, 0), (0, 0, 90))):
            Circle(SKETCH8_R)
    extrude(amount=-CUT_EXTRUDE7_DEPTH, mode=Mode.SUBTRACT)


solid = part.part
